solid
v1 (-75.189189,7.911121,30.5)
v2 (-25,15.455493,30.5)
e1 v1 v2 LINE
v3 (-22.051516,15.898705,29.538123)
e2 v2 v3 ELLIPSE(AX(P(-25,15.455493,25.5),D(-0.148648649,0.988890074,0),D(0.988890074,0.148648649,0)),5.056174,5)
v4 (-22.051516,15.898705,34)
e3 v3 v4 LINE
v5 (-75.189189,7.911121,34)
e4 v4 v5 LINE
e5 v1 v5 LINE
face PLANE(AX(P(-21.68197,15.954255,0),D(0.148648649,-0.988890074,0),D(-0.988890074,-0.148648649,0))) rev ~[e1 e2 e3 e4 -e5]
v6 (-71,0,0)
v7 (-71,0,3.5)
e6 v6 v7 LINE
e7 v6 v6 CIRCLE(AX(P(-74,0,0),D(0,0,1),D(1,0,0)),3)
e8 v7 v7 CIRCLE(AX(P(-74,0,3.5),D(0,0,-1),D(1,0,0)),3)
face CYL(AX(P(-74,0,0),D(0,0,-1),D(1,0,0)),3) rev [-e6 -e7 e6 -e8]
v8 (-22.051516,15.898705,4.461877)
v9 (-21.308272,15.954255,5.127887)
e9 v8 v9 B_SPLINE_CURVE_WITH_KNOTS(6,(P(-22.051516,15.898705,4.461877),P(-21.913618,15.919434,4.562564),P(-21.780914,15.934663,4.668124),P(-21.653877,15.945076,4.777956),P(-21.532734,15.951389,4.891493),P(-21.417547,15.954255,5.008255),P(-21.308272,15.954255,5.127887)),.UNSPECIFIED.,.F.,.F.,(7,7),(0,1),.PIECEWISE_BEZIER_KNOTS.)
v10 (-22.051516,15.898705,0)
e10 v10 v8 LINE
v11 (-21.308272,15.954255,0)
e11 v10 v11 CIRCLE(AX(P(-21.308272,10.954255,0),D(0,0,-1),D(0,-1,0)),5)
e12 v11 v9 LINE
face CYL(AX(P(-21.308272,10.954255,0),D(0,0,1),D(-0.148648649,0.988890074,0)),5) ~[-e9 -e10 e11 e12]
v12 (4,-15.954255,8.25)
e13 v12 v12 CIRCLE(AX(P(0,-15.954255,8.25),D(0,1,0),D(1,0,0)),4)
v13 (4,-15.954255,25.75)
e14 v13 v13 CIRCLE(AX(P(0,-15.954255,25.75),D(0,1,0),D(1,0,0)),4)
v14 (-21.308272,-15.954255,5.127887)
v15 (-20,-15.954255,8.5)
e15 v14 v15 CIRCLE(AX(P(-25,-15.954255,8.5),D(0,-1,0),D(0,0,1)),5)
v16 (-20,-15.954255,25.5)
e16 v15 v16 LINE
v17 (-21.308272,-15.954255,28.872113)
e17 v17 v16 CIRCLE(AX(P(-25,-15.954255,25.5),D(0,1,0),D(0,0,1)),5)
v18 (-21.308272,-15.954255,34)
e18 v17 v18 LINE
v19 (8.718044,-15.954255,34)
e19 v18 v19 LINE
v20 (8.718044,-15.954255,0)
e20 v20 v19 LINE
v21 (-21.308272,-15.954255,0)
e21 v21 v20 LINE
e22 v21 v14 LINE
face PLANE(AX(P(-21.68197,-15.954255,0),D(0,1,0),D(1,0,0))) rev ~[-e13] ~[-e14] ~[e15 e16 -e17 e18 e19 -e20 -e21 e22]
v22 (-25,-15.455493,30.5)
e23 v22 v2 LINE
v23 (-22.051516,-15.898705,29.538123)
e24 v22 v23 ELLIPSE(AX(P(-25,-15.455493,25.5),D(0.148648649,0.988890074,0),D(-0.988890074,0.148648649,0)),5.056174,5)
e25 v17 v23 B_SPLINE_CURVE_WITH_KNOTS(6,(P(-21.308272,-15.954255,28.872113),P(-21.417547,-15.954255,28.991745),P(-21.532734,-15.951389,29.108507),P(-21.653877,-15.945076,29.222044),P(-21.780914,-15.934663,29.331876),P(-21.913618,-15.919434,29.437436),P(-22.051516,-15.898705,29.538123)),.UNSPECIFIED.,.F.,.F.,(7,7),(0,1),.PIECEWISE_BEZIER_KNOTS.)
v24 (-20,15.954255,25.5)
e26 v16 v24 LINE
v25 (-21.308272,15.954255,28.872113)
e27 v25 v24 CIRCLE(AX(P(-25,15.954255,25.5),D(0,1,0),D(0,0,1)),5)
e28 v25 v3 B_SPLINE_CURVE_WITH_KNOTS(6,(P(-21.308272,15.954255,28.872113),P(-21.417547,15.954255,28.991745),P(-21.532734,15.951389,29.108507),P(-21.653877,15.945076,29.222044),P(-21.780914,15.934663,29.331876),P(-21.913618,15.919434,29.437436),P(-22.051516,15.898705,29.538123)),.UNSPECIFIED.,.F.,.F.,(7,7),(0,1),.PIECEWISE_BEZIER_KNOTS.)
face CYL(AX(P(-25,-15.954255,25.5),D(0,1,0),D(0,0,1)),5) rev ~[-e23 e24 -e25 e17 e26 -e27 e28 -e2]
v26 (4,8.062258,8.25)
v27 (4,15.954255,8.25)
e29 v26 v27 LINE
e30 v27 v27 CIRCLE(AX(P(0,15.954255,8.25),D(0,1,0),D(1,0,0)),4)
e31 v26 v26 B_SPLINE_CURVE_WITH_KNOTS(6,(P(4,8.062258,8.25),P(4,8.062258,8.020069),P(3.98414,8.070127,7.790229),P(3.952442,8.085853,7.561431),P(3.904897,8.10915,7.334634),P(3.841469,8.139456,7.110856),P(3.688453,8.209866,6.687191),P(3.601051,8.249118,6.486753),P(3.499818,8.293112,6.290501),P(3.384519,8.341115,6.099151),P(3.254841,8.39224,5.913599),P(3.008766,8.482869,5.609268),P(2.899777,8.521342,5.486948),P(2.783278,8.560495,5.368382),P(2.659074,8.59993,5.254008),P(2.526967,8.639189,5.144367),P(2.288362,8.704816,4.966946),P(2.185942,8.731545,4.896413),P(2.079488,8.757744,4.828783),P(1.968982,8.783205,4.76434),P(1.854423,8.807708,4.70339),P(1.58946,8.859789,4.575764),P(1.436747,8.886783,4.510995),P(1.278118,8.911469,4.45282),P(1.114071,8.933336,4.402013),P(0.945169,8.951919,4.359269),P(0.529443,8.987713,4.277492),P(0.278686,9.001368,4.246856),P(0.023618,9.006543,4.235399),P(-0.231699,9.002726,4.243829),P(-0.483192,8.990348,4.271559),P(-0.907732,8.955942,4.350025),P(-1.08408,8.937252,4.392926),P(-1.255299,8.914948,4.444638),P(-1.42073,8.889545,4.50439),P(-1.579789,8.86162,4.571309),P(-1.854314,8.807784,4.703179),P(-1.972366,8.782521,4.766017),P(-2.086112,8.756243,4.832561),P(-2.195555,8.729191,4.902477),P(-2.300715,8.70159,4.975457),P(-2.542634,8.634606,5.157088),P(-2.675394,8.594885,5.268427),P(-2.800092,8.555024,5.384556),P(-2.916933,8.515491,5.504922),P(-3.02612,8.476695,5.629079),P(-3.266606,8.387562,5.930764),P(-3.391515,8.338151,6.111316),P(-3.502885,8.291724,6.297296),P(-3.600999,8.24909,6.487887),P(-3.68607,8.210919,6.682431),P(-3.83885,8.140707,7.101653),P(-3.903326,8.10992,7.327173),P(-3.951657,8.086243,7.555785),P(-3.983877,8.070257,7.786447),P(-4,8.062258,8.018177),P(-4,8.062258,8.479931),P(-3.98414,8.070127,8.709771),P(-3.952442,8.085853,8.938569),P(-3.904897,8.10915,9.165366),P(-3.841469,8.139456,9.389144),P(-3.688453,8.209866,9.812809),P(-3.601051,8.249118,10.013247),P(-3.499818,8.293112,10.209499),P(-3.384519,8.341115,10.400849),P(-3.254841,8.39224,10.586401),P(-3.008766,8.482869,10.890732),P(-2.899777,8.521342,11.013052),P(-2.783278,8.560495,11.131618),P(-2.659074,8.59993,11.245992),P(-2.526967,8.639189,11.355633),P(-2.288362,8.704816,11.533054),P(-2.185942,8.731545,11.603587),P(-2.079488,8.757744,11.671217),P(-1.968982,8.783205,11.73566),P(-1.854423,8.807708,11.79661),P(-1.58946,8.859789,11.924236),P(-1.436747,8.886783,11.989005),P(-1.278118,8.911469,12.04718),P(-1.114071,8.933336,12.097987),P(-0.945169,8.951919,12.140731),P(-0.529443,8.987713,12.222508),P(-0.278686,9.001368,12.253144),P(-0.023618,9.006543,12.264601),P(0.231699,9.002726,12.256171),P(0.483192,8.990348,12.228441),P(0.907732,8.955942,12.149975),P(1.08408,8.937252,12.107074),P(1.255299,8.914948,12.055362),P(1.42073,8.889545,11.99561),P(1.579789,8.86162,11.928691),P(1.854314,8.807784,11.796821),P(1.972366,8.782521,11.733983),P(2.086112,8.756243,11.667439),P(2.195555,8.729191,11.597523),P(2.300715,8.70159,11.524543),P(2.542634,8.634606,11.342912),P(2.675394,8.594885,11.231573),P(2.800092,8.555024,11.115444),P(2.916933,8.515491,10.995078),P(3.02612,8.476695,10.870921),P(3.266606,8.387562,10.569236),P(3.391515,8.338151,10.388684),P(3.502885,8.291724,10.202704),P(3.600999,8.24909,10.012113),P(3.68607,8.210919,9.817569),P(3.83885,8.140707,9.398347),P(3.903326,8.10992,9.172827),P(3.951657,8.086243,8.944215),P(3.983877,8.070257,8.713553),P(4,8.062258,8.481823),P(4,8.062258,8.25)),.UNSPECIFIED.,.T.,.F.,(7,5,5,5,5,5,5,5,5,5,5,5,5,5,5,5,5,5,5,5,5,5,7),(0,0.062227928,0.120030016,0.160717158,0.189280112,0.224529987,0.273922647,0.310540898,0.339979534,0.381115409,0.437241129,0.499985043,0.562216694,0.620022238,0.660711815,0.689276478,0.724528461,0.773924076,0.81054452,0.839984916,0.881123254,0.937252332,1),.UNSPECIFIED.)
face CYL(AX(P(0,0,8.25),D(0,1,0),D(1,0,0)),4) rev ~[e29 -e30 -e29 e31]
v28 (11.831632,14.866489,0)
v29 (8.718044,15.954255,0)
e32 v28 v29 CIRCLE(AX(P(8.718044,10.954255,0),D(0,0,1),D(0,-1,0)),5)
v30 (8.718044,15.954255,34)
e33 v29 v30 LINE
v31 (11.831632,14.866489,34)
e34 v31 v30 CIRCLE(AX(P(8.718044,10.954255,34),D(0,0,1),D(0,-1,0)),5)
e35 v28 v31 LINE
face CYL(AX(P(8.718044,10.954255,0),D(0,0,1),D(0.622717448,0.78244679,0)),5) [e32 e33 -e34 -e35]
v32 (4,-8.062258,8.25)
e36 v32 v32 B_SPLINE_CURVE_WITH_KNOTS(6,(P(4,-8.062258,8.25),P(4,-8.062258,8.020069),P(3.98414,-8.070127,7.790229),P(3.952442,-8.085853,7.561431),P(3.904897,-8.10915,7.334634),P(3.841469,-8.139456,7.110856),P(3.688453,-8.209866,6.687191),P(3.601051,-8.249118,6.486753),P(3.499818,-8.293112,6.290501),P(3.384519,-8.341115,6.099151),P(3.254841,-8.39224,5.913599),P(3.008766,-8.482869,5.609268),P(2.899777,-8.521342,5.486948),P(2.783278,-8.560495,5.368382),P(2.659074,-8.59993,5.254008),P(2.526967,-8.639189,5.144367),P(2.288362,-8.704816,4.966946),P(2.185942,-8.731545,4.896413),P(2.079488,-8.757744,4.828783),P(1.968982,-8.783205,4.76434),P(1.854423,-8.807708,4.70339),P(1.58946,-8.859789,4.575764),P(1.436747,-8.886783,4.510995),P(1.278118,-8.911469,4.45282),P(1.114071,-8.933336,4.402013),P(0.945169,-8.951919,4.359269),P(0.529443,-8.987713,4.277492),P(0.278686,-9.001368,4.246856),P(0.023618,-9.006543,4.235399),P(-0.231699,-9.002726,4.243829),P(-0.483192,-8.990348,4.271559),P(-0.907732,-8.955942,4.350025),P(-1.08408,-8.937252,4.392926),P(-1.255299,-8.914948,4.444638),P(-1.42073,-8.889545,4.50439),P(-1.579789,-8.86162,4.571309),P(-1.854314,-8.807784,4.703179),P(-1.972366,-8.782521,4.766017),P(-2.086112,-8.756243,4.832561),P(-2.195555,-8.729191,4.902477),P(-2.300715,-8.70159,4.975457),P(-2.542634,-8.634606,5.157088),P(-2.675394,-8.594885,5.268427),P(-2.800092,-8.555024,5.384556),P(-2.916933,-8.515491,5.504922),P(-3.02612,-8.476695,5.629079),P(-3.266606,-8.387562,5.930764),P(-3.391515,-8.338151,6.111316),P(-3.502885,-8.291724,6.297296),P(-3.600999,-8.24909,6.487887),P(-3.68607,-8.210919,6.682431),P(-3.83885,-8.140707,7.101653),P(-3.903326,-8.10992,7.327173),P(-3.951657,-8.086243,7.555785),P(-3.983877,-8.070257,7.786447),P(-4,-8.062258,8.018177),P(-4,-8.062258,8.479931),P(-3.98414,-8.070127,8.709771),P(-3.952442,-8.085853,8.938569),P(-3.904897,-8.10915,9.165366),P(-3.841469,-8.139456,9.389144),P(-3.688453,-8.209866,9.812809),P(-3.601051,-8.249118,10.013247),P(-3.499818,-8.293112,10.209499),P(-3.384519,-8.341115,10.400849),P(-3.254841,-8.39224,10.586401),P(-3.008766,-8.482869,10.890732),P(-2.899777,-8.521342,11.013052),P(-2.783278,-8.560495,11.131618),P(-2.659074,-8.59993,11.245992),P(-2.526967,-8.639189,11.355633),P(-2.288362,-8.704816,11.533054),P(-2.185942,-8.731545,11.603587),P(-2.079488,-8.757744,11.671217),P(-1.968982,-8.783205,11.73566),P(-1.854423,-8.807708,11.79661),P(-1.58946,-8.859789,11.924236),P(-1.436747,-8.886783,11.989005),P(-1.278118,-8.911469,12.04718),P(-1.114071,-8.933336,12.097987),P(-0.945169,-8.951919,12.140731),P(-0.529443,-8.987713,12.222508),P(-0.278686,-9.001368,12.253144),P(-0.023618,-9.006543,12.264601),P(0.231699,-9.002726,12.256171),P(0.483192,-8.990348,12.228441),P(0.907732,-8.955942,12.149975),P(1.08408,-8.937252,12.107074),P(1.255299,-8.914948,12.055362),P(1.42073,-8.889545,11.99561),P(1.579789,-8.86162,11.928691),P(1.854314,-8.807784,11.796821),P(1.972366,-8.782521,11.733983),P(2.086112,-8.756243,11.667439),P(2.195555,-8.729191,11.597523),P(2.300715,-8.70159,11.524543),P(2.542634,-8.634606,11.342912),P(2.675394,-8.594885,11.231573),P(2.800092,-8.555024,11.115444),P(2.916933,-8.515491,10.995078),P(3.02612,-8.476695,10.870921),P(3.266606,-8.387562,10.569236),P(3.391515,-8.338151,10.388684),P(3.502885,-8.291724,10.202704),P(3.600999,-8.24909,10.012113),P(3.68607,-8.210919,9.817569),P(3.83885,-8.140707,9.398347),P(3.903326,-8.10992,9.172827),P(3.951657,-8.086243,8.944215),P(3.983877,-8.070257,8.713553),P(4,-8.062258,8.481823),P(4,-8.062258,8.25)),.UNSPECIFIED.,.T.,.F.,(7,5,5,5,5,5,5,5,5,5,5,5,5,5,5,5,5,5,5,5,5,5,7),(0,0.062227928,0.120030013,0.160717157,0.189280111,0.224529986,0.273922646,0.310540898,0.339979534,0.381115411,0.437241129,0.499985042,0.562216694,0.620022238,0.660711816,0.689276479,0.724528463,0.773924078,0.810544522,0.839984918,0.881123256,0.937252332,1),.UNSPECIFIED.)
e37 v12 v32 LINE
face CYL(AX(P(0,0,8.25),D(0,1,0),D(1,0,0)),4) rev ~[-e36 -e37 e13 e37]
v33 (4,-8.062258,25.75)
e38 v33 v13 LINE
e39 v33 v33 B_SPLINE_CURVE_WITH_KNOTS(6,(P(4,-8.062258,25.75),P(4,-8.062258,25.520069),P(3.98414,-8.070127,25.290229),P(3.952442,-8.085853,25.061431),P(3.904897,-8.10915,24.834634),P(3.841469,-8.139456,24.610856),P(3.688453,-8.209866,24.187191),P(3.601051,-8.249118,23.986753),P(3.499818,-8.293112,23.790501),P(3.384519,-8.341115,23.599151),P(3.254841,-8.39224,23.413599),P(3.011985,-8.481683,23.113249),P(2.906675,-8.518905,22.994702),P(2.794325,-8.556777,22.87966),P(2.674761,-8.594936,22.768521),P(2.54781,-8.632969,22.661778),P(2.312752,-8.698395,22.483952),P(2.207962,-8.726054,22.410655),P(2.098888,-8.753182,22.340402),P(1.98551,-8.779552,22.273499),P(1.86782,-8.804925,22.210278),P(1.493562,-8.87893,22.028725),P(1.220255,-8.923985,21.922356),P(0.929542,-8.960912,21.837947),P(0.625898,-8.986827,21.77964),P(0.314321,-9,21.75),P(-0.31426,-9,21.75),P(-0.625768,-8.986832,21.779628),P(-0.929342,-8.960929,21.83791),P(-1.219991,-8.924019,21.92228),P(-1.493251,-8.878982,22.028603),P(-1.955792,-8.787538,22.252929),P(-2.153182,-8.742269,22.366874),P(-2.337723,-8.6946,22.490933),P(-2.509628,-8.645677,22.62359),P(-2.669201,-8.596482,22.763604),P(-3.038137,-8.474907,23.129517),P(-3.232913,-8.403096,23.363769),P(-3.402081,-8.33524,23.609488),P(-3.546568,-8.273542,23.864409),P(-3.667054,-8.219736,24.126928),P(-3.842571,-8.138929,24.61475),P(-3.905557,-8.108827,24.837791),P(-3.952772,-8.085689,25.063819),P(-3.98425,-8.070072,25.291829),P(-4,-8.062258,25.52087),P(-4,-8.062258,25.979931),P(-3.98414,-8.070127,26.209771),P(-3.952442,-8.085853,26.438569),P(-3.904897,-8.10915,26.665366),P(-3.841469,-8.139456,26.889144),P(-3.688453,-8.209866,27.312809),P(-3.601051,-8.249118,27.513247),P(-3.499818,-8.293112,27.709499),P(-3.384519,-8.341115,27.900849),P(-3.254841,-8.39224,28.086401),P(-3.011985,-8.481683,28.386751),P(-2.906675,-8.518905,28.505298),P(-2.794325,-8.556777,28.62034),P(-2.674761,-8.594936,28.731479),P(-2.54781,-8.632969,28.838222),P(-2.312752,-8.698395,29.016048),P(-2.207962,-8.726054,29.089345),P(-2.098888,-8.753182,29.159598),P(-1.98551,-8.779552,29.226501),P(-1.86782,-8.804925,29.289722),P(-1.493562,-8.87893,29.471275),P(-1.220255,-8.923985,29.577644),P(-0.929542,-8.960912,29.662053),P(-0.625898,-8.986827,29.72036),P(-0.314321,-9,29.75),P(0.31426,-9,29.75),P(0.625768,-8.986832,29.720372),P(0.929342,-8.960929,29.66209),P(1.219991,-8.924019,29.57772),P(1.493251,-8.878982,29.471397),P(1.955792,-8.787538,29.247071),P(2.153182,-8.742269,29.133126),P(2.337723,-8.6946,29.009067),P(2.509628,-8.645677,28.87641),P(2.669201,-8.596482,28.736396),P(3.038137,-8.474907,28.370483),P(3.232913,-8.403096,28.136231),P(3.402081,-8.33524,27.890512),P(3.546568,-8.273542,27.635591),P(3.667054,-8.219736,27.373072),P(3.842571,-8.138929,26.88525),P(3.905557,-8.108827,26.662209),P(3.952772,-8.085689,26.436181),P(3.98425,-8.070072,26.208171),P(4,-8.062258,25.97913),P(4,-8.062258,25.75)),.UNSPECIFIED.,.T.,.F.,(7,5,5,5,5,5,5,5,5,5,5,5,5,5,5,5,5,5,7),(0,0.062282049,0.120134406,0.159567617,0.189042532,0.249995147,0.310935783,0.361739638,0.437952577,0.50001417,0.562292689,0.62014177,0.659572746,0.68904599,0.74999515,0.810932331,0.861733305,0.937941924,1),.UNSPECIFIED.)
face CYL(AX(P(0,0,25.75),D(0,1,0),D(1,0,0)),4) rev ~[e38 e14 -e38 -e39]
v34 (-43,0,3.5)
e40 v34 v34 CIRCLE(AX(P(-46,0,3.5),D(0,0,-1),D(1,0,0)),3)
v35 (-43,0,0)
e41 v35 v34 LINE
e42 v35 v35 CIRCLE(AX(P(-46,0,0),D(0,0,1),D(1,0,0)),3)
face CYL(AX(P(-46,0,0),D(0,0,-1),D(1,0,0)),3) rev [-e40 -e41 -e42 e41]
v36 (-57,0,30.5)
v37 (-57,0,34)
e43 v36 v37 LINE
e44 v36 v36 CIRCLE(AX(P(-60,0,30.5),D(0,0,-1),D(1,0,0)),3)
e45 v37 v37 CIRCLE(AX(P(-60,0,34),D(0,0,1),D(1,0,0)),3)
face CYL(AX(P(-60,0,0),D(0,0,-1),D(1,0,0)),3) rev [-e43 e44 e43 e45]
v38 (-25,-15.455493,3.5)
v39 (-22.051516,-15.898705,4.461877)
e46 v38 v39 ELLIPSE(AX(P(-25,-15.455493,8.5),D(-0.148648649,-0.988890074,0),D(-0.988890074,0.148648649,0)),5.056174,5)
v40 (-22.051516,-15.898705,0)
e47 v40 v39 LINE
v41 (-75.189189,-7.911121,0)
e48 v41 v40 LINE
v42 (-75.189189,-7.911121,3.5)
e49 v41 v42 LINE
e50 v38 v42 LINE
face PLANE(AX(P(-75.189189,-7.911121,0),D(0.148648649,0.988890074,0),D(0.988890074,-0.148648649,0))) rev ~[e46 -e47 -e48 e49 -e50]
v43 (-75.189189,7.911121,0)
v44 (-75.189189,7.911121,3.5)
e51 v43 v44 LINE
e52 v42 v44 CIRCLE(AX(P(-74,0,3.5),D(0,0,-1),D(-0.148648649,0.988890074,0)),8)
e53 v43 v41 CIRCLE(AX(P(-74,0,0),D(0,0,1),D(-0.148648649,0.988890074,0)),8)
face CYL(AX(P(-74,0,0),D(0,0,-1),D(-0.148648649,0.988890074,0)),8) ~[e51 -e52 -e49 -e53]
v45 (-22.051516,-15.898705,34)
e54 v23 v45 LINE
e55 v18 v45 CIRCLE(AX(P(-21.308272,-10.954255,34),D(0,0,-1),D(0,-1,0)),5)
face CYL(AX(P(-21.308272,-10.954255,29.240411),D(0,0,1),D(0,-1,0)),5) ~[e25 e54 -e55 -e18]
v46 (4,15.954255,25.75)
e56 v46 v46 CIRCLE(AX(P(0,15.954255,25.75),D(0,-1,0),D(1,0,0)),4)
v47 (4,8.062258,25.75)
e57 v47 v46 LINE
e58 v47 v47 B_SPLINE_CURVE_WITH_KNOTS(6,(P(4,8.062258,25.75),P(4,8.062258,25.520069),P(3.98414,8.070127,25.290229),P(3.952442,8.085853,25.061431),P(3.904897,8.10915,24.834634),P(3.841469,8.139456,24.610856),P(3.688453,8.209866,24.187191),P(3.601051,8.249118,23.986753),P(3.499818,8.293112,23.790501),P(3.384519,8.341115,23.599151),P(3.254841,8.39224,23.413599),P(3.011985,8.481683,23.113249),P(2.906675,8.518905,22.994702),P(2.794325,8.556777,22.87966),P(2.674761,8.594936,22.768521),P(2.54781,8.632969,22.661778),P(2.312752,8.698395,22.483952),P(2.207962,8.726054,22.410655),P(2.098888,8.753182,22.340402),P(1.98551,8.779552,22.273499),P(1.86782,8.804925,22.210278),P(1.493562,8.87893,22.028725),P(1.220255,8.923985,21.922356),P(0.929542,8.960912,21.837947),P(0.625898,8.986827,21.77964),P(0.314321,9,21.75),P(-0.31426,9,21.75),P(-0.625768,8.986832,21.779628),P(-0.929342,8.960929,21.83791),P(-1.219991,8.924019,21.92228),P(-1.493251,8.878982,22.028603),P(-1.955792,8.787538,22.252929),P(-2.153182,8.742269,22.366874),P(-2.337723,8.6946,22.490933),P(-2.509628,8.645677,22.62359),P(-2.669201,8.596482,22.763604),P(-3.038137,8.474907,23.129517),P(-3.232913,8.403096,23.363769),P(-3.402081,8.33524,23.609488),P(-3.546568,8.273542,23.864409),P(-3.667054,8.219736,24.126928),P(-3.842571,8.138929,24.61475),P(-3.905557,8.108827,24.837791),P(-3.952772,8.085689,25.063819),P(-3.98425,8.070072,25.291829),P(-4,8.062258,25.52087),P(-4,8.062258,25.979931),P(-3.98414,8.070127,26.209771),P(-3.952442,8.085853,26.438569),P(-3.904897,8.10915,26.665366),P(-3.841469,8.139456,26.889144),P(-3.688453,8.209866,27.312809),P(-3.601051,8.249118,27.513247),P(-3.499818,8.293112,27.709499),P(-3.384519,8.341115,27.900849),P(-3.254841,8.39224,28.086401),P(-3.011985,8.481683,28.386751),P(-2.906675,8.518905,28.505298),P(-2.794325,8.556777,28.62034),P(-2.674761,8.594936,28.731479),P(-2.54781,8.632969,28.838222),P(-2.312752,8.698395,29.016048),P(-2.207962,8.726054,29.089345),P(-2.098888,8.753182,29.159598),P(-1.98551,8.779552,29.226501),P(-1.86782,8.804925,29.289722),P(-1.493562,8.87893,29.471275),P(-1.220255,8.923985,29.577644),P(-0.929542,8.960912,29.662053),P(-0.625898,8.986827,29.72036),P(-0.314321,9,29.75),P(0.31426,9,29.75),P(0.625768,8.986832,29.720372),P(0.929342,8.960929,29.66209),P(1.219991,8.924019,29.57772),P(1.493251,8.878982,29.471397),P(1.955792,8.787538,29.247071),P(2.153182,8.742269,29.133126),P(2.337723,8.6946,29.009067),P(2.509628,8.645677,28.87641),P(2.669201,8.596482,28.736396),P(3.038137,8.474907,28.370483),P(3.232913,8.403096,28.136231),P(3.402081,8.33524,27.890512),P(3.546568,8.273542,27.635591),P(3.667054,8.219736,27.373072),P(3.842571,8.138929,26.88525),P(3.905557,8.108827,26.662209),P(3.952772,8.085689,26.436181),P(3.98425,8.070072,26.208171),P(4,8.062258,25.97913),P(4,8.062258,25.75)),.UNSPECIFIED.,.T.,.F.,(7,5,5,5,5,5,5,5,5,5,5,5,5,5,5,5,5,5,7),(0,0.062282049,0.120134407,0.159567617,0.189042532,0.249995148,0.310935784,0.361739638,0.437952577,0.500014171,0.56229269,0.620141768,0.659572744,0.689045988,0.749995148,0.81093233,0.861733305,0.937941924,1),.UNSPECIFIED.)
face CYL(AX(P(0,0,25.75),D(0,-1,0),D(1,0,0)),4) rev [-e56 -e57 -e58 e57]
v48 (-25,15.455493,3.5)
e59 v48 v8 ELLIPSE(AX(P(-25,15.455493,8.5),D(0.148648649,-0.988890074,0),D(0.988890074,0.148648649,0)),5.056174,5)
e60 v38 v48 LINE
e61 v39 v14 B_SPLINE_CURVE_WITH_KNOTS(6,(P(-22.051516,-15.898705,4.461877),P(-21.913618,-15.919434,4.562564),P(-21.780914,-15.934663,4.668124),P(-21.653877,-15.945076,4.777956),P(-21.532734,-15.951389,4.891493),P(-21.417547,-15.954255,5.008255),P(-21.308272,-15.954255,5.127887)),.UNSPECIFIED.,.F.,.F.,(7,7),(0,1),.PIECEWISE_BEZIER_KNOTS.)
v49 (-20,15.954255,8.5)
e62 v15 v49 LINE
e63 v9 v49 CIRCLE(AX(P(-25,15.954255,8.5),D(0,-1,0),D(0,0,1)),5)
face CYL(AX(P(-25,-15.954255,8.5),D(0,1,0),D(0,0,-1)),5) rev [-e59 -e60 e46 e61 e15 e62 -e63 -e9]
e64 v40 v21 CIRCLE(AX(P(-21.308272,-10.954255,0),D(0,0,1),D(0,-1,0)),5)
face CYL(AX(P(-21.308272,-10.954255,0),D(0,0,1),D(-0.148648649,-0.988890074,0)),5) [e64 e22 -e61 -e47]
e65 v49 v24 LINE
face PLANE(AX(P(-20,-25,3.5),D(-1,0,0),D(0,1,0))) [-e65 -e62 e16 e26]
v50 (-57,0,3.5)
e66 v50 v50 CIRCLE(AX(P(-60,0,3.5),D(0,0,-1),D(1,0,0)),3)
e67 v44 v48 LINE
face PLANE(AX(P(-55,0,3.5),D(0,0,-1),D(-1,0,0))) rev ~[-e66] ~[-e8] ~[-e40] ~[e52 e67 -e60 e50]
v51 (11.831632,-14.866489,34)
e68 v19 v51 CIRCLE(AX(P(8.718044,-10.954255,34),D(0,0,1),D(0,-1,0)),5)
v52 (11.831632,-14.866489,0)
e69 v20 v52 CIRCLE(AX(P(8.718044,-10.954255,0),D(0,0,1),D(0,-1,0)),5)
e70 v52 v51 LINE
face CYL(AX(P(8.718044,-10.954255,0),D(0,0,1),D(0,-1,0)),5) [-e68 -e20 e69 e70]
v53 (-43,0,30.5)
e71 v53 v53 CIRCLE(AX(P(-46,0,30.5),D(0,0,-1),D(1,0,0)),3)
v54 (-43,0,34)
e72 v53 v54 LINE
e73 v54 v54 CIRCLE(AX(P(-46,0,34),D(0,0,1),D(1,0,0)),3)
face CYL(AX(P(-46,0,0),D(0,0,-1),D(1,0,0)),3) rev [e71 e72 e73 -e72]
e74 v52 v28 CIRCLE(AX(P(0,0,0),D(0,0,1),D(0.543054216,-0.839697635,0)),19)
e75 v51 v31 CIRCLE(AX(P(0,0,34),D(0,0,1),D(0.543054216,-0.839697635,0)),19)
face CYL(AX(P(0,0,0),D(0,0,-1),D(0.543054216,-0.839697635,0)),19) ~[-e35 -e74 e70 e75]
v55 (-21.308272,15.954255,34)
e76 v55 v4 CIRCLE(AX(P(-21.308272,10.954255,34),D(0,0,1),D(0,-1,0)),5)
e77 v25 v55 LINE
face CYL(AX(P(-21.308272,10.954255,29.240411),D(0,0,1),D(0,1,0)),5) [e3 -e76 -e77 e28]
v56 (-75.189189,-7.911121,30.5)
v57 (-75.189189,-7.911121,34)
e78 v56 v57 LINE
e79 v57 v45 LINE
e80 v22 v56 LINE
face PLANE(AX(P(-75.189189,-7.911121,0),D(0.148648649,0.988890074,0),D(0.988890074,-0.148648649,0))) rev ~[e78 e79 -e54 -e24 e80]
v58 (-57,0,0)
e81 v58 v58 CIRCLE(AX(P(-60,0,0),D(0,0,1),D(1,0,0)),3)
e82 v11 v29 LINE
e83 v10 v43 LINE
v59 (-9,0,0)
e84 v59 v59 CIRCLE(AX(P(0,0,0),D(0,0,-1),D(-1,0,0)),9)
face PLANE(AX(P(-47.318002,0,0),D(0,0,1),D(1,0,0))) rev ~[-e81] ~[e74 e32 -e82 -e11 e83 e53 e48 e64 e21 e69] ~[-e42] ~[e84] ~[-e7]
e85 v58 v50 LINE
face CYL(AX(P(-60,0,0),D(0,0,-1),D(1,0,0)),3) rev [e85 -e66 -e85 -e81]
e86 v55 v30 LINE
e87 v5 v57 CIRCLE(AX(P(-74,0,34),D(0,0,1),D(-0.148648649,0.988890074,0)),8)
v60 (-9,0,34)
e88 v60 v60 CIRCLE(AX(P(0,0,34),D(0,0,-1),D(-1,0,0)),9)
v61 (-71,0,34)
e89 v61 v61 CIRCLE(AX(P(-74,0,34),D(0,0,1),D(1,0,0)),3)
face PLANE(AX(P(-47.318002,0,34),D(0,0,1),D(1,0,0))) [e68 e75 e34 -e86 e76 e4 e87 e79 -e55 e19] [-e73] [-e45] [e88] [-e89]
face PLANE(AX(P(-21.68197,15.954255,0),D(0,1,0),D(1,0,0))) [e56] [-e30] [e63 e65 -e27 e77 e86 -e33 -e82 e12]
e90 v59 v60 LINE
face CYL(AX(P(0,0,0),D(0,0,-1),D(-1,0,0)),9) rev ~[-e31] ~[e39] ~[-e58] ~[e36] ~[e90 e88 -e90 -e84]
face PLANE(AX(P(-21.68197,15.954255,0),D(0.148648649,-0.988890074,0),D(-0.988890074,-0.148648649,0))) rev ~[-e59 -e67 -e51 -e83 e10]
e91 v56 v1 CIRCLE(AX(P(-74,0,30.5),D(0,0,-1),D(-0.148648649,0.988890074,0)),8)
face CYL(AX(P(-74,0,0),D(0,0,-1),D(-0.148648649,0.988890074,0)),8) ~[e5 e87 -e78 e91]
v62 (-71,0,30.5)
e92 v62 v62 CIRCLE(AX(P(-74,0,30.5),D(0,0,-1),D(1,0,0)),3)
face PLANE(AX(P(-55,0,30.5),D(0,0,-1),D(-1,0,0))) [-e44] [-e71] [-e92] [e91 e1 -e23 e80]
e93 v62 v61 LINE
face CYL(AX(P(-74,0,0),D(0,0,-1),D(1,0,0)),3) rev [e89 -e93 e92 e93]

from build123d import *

# Parameters (mm, degrees)
SKETCH_1_R          = 3
SKETCH_1_W          = 32
SKETCH_1_H          = 31.908510126
EXTRUDE_1_DEPTH     = 34
CUT_EXTRUDE_START   = -3.5
SKETCH_4_W          = 70
SKETCH_4_H          = 50
CUT_EXTRUDE_3_DEPTH = 27
FILLET_1_R          = 5
SKETCH_3_R          = 9
CUT_EXTRUDE_5_DEPTH = 35
SKETCH_8_R          = 4
CUT_EXTRUDE_6_DEPTH = 20
FILLET_2_R          = 5


with BuildPart() as part:
    # 草圖1 → 填料-伸長1 (new body)
    with BuildSketch(Plane.XY):
        with BuildLine():
            Line((-21.681969888, -15.954255063), (-21.681969888, 15.954255063))
            Line((-21.681969888, 15.954255063), (-75.189189189, 7.911120595))
            ThreePointArc((-75.189189189, 7.911120595), (-82, 0), (-75.189189189, -7.911120595))
            Line((-75.189189189, -7.911120595), (-21.681969888, -15.954255063))
        make_face()
        with Locations((-74, 0)):
            Circle(SKETCH_1_R, mode=Mode.SUBTRACT)
        with Locations((-60, 0)):
            Circle(SKETCH_1_R, mode=Mode.SUBTRACT)
        with Locations((-46, 0)):
            Circle(SKETCH_1_R, mode=Mode.SUBTRACT)
        with Locations((-5.681969888, 0)):
            Rectangle(SKETCH_1_W, SKETCH_1_H)
        with BuildLine():
            ThreePointArc((10.318030112, -15.954255063), (19, 0), (10.318030112, 15.954255063))
            Line((10.318030112, 15.954255063), (10.318030112, -15.954255063))
        make_face()
    extrude(amount=EXTRUDE_1_DEPTH)

    # 草圖4 → 除料-伸長3 (cut)
    with BuildSketch(Plane(origin=(0, 0, 0), x_dir=(-1, 0, 0), z_dir=(0, 0, -1)).offset(CUT_EXTRUDE_START)):
        with Locations((55, 0)):
            Rectangle(SKETCH_4_W, SKETCH_4_H)
    extrude(amount=-CUT_EXTRUDE_3_DEPTH, mode=Mode.SUBTRACT)

    # 圓角1
    fillet_1_edges = [part.edges().sort_by_distance(p)[0] for p in [
        (-20, 0, 3.5),
        (-20, 0, 30.5),
    ]]
    fillet(fillet_1_edges, radius=FILLET_1_R)

    # 草圖3 → 除料-伸長5 (cut, through all)
    with BuildSketch(Plane(origin=(0, 0, 0), x_dir=(-1, 0, 0), z_dir=(0, 0, -1))):
        Circle(SKETCH_3_R)
    extrude(amount=-CUT_EXTRUDE_5_DEPTH, mode=Mode.SUBTRACT)

    # 草圖8 → 除料-伸長6 (cut, symmetric)
    with BuildSketch(Plane(origin=(0, 0, 0), x_dir=(1, 0, 0), z_dir=(0, 1, 0))):
        with Locations((0, -25.75)):
            Circle(SKETCH_8_R)
        with Locations((0, -8.25)):
            Circle(SKETCH_8_R)
    extrude(amount=CUT_EXTRUDE_6_DEPTH, both=True, mode=Mode.SUBTRACT)

    # 圓角2
    fillet_2_edges = [part.edges().sort_by_distance(p)[0] for p in [
        (-21.681969888, -15.954255063, 2.379794385),
        (-21.681969888, -15.954255063, 31.620205615),
        (-21.681969888, 15.954255063, 2.379794385),
        (-21.681969888, 15.954255063, 31.620205615),
        (10.318030112, -15.954255063, 17),
        (10.318030112, 15.954255063, 17),
    ]]
    fillet(fillet_2_edges, radius=FILLET_2_R)


solid = part.part
